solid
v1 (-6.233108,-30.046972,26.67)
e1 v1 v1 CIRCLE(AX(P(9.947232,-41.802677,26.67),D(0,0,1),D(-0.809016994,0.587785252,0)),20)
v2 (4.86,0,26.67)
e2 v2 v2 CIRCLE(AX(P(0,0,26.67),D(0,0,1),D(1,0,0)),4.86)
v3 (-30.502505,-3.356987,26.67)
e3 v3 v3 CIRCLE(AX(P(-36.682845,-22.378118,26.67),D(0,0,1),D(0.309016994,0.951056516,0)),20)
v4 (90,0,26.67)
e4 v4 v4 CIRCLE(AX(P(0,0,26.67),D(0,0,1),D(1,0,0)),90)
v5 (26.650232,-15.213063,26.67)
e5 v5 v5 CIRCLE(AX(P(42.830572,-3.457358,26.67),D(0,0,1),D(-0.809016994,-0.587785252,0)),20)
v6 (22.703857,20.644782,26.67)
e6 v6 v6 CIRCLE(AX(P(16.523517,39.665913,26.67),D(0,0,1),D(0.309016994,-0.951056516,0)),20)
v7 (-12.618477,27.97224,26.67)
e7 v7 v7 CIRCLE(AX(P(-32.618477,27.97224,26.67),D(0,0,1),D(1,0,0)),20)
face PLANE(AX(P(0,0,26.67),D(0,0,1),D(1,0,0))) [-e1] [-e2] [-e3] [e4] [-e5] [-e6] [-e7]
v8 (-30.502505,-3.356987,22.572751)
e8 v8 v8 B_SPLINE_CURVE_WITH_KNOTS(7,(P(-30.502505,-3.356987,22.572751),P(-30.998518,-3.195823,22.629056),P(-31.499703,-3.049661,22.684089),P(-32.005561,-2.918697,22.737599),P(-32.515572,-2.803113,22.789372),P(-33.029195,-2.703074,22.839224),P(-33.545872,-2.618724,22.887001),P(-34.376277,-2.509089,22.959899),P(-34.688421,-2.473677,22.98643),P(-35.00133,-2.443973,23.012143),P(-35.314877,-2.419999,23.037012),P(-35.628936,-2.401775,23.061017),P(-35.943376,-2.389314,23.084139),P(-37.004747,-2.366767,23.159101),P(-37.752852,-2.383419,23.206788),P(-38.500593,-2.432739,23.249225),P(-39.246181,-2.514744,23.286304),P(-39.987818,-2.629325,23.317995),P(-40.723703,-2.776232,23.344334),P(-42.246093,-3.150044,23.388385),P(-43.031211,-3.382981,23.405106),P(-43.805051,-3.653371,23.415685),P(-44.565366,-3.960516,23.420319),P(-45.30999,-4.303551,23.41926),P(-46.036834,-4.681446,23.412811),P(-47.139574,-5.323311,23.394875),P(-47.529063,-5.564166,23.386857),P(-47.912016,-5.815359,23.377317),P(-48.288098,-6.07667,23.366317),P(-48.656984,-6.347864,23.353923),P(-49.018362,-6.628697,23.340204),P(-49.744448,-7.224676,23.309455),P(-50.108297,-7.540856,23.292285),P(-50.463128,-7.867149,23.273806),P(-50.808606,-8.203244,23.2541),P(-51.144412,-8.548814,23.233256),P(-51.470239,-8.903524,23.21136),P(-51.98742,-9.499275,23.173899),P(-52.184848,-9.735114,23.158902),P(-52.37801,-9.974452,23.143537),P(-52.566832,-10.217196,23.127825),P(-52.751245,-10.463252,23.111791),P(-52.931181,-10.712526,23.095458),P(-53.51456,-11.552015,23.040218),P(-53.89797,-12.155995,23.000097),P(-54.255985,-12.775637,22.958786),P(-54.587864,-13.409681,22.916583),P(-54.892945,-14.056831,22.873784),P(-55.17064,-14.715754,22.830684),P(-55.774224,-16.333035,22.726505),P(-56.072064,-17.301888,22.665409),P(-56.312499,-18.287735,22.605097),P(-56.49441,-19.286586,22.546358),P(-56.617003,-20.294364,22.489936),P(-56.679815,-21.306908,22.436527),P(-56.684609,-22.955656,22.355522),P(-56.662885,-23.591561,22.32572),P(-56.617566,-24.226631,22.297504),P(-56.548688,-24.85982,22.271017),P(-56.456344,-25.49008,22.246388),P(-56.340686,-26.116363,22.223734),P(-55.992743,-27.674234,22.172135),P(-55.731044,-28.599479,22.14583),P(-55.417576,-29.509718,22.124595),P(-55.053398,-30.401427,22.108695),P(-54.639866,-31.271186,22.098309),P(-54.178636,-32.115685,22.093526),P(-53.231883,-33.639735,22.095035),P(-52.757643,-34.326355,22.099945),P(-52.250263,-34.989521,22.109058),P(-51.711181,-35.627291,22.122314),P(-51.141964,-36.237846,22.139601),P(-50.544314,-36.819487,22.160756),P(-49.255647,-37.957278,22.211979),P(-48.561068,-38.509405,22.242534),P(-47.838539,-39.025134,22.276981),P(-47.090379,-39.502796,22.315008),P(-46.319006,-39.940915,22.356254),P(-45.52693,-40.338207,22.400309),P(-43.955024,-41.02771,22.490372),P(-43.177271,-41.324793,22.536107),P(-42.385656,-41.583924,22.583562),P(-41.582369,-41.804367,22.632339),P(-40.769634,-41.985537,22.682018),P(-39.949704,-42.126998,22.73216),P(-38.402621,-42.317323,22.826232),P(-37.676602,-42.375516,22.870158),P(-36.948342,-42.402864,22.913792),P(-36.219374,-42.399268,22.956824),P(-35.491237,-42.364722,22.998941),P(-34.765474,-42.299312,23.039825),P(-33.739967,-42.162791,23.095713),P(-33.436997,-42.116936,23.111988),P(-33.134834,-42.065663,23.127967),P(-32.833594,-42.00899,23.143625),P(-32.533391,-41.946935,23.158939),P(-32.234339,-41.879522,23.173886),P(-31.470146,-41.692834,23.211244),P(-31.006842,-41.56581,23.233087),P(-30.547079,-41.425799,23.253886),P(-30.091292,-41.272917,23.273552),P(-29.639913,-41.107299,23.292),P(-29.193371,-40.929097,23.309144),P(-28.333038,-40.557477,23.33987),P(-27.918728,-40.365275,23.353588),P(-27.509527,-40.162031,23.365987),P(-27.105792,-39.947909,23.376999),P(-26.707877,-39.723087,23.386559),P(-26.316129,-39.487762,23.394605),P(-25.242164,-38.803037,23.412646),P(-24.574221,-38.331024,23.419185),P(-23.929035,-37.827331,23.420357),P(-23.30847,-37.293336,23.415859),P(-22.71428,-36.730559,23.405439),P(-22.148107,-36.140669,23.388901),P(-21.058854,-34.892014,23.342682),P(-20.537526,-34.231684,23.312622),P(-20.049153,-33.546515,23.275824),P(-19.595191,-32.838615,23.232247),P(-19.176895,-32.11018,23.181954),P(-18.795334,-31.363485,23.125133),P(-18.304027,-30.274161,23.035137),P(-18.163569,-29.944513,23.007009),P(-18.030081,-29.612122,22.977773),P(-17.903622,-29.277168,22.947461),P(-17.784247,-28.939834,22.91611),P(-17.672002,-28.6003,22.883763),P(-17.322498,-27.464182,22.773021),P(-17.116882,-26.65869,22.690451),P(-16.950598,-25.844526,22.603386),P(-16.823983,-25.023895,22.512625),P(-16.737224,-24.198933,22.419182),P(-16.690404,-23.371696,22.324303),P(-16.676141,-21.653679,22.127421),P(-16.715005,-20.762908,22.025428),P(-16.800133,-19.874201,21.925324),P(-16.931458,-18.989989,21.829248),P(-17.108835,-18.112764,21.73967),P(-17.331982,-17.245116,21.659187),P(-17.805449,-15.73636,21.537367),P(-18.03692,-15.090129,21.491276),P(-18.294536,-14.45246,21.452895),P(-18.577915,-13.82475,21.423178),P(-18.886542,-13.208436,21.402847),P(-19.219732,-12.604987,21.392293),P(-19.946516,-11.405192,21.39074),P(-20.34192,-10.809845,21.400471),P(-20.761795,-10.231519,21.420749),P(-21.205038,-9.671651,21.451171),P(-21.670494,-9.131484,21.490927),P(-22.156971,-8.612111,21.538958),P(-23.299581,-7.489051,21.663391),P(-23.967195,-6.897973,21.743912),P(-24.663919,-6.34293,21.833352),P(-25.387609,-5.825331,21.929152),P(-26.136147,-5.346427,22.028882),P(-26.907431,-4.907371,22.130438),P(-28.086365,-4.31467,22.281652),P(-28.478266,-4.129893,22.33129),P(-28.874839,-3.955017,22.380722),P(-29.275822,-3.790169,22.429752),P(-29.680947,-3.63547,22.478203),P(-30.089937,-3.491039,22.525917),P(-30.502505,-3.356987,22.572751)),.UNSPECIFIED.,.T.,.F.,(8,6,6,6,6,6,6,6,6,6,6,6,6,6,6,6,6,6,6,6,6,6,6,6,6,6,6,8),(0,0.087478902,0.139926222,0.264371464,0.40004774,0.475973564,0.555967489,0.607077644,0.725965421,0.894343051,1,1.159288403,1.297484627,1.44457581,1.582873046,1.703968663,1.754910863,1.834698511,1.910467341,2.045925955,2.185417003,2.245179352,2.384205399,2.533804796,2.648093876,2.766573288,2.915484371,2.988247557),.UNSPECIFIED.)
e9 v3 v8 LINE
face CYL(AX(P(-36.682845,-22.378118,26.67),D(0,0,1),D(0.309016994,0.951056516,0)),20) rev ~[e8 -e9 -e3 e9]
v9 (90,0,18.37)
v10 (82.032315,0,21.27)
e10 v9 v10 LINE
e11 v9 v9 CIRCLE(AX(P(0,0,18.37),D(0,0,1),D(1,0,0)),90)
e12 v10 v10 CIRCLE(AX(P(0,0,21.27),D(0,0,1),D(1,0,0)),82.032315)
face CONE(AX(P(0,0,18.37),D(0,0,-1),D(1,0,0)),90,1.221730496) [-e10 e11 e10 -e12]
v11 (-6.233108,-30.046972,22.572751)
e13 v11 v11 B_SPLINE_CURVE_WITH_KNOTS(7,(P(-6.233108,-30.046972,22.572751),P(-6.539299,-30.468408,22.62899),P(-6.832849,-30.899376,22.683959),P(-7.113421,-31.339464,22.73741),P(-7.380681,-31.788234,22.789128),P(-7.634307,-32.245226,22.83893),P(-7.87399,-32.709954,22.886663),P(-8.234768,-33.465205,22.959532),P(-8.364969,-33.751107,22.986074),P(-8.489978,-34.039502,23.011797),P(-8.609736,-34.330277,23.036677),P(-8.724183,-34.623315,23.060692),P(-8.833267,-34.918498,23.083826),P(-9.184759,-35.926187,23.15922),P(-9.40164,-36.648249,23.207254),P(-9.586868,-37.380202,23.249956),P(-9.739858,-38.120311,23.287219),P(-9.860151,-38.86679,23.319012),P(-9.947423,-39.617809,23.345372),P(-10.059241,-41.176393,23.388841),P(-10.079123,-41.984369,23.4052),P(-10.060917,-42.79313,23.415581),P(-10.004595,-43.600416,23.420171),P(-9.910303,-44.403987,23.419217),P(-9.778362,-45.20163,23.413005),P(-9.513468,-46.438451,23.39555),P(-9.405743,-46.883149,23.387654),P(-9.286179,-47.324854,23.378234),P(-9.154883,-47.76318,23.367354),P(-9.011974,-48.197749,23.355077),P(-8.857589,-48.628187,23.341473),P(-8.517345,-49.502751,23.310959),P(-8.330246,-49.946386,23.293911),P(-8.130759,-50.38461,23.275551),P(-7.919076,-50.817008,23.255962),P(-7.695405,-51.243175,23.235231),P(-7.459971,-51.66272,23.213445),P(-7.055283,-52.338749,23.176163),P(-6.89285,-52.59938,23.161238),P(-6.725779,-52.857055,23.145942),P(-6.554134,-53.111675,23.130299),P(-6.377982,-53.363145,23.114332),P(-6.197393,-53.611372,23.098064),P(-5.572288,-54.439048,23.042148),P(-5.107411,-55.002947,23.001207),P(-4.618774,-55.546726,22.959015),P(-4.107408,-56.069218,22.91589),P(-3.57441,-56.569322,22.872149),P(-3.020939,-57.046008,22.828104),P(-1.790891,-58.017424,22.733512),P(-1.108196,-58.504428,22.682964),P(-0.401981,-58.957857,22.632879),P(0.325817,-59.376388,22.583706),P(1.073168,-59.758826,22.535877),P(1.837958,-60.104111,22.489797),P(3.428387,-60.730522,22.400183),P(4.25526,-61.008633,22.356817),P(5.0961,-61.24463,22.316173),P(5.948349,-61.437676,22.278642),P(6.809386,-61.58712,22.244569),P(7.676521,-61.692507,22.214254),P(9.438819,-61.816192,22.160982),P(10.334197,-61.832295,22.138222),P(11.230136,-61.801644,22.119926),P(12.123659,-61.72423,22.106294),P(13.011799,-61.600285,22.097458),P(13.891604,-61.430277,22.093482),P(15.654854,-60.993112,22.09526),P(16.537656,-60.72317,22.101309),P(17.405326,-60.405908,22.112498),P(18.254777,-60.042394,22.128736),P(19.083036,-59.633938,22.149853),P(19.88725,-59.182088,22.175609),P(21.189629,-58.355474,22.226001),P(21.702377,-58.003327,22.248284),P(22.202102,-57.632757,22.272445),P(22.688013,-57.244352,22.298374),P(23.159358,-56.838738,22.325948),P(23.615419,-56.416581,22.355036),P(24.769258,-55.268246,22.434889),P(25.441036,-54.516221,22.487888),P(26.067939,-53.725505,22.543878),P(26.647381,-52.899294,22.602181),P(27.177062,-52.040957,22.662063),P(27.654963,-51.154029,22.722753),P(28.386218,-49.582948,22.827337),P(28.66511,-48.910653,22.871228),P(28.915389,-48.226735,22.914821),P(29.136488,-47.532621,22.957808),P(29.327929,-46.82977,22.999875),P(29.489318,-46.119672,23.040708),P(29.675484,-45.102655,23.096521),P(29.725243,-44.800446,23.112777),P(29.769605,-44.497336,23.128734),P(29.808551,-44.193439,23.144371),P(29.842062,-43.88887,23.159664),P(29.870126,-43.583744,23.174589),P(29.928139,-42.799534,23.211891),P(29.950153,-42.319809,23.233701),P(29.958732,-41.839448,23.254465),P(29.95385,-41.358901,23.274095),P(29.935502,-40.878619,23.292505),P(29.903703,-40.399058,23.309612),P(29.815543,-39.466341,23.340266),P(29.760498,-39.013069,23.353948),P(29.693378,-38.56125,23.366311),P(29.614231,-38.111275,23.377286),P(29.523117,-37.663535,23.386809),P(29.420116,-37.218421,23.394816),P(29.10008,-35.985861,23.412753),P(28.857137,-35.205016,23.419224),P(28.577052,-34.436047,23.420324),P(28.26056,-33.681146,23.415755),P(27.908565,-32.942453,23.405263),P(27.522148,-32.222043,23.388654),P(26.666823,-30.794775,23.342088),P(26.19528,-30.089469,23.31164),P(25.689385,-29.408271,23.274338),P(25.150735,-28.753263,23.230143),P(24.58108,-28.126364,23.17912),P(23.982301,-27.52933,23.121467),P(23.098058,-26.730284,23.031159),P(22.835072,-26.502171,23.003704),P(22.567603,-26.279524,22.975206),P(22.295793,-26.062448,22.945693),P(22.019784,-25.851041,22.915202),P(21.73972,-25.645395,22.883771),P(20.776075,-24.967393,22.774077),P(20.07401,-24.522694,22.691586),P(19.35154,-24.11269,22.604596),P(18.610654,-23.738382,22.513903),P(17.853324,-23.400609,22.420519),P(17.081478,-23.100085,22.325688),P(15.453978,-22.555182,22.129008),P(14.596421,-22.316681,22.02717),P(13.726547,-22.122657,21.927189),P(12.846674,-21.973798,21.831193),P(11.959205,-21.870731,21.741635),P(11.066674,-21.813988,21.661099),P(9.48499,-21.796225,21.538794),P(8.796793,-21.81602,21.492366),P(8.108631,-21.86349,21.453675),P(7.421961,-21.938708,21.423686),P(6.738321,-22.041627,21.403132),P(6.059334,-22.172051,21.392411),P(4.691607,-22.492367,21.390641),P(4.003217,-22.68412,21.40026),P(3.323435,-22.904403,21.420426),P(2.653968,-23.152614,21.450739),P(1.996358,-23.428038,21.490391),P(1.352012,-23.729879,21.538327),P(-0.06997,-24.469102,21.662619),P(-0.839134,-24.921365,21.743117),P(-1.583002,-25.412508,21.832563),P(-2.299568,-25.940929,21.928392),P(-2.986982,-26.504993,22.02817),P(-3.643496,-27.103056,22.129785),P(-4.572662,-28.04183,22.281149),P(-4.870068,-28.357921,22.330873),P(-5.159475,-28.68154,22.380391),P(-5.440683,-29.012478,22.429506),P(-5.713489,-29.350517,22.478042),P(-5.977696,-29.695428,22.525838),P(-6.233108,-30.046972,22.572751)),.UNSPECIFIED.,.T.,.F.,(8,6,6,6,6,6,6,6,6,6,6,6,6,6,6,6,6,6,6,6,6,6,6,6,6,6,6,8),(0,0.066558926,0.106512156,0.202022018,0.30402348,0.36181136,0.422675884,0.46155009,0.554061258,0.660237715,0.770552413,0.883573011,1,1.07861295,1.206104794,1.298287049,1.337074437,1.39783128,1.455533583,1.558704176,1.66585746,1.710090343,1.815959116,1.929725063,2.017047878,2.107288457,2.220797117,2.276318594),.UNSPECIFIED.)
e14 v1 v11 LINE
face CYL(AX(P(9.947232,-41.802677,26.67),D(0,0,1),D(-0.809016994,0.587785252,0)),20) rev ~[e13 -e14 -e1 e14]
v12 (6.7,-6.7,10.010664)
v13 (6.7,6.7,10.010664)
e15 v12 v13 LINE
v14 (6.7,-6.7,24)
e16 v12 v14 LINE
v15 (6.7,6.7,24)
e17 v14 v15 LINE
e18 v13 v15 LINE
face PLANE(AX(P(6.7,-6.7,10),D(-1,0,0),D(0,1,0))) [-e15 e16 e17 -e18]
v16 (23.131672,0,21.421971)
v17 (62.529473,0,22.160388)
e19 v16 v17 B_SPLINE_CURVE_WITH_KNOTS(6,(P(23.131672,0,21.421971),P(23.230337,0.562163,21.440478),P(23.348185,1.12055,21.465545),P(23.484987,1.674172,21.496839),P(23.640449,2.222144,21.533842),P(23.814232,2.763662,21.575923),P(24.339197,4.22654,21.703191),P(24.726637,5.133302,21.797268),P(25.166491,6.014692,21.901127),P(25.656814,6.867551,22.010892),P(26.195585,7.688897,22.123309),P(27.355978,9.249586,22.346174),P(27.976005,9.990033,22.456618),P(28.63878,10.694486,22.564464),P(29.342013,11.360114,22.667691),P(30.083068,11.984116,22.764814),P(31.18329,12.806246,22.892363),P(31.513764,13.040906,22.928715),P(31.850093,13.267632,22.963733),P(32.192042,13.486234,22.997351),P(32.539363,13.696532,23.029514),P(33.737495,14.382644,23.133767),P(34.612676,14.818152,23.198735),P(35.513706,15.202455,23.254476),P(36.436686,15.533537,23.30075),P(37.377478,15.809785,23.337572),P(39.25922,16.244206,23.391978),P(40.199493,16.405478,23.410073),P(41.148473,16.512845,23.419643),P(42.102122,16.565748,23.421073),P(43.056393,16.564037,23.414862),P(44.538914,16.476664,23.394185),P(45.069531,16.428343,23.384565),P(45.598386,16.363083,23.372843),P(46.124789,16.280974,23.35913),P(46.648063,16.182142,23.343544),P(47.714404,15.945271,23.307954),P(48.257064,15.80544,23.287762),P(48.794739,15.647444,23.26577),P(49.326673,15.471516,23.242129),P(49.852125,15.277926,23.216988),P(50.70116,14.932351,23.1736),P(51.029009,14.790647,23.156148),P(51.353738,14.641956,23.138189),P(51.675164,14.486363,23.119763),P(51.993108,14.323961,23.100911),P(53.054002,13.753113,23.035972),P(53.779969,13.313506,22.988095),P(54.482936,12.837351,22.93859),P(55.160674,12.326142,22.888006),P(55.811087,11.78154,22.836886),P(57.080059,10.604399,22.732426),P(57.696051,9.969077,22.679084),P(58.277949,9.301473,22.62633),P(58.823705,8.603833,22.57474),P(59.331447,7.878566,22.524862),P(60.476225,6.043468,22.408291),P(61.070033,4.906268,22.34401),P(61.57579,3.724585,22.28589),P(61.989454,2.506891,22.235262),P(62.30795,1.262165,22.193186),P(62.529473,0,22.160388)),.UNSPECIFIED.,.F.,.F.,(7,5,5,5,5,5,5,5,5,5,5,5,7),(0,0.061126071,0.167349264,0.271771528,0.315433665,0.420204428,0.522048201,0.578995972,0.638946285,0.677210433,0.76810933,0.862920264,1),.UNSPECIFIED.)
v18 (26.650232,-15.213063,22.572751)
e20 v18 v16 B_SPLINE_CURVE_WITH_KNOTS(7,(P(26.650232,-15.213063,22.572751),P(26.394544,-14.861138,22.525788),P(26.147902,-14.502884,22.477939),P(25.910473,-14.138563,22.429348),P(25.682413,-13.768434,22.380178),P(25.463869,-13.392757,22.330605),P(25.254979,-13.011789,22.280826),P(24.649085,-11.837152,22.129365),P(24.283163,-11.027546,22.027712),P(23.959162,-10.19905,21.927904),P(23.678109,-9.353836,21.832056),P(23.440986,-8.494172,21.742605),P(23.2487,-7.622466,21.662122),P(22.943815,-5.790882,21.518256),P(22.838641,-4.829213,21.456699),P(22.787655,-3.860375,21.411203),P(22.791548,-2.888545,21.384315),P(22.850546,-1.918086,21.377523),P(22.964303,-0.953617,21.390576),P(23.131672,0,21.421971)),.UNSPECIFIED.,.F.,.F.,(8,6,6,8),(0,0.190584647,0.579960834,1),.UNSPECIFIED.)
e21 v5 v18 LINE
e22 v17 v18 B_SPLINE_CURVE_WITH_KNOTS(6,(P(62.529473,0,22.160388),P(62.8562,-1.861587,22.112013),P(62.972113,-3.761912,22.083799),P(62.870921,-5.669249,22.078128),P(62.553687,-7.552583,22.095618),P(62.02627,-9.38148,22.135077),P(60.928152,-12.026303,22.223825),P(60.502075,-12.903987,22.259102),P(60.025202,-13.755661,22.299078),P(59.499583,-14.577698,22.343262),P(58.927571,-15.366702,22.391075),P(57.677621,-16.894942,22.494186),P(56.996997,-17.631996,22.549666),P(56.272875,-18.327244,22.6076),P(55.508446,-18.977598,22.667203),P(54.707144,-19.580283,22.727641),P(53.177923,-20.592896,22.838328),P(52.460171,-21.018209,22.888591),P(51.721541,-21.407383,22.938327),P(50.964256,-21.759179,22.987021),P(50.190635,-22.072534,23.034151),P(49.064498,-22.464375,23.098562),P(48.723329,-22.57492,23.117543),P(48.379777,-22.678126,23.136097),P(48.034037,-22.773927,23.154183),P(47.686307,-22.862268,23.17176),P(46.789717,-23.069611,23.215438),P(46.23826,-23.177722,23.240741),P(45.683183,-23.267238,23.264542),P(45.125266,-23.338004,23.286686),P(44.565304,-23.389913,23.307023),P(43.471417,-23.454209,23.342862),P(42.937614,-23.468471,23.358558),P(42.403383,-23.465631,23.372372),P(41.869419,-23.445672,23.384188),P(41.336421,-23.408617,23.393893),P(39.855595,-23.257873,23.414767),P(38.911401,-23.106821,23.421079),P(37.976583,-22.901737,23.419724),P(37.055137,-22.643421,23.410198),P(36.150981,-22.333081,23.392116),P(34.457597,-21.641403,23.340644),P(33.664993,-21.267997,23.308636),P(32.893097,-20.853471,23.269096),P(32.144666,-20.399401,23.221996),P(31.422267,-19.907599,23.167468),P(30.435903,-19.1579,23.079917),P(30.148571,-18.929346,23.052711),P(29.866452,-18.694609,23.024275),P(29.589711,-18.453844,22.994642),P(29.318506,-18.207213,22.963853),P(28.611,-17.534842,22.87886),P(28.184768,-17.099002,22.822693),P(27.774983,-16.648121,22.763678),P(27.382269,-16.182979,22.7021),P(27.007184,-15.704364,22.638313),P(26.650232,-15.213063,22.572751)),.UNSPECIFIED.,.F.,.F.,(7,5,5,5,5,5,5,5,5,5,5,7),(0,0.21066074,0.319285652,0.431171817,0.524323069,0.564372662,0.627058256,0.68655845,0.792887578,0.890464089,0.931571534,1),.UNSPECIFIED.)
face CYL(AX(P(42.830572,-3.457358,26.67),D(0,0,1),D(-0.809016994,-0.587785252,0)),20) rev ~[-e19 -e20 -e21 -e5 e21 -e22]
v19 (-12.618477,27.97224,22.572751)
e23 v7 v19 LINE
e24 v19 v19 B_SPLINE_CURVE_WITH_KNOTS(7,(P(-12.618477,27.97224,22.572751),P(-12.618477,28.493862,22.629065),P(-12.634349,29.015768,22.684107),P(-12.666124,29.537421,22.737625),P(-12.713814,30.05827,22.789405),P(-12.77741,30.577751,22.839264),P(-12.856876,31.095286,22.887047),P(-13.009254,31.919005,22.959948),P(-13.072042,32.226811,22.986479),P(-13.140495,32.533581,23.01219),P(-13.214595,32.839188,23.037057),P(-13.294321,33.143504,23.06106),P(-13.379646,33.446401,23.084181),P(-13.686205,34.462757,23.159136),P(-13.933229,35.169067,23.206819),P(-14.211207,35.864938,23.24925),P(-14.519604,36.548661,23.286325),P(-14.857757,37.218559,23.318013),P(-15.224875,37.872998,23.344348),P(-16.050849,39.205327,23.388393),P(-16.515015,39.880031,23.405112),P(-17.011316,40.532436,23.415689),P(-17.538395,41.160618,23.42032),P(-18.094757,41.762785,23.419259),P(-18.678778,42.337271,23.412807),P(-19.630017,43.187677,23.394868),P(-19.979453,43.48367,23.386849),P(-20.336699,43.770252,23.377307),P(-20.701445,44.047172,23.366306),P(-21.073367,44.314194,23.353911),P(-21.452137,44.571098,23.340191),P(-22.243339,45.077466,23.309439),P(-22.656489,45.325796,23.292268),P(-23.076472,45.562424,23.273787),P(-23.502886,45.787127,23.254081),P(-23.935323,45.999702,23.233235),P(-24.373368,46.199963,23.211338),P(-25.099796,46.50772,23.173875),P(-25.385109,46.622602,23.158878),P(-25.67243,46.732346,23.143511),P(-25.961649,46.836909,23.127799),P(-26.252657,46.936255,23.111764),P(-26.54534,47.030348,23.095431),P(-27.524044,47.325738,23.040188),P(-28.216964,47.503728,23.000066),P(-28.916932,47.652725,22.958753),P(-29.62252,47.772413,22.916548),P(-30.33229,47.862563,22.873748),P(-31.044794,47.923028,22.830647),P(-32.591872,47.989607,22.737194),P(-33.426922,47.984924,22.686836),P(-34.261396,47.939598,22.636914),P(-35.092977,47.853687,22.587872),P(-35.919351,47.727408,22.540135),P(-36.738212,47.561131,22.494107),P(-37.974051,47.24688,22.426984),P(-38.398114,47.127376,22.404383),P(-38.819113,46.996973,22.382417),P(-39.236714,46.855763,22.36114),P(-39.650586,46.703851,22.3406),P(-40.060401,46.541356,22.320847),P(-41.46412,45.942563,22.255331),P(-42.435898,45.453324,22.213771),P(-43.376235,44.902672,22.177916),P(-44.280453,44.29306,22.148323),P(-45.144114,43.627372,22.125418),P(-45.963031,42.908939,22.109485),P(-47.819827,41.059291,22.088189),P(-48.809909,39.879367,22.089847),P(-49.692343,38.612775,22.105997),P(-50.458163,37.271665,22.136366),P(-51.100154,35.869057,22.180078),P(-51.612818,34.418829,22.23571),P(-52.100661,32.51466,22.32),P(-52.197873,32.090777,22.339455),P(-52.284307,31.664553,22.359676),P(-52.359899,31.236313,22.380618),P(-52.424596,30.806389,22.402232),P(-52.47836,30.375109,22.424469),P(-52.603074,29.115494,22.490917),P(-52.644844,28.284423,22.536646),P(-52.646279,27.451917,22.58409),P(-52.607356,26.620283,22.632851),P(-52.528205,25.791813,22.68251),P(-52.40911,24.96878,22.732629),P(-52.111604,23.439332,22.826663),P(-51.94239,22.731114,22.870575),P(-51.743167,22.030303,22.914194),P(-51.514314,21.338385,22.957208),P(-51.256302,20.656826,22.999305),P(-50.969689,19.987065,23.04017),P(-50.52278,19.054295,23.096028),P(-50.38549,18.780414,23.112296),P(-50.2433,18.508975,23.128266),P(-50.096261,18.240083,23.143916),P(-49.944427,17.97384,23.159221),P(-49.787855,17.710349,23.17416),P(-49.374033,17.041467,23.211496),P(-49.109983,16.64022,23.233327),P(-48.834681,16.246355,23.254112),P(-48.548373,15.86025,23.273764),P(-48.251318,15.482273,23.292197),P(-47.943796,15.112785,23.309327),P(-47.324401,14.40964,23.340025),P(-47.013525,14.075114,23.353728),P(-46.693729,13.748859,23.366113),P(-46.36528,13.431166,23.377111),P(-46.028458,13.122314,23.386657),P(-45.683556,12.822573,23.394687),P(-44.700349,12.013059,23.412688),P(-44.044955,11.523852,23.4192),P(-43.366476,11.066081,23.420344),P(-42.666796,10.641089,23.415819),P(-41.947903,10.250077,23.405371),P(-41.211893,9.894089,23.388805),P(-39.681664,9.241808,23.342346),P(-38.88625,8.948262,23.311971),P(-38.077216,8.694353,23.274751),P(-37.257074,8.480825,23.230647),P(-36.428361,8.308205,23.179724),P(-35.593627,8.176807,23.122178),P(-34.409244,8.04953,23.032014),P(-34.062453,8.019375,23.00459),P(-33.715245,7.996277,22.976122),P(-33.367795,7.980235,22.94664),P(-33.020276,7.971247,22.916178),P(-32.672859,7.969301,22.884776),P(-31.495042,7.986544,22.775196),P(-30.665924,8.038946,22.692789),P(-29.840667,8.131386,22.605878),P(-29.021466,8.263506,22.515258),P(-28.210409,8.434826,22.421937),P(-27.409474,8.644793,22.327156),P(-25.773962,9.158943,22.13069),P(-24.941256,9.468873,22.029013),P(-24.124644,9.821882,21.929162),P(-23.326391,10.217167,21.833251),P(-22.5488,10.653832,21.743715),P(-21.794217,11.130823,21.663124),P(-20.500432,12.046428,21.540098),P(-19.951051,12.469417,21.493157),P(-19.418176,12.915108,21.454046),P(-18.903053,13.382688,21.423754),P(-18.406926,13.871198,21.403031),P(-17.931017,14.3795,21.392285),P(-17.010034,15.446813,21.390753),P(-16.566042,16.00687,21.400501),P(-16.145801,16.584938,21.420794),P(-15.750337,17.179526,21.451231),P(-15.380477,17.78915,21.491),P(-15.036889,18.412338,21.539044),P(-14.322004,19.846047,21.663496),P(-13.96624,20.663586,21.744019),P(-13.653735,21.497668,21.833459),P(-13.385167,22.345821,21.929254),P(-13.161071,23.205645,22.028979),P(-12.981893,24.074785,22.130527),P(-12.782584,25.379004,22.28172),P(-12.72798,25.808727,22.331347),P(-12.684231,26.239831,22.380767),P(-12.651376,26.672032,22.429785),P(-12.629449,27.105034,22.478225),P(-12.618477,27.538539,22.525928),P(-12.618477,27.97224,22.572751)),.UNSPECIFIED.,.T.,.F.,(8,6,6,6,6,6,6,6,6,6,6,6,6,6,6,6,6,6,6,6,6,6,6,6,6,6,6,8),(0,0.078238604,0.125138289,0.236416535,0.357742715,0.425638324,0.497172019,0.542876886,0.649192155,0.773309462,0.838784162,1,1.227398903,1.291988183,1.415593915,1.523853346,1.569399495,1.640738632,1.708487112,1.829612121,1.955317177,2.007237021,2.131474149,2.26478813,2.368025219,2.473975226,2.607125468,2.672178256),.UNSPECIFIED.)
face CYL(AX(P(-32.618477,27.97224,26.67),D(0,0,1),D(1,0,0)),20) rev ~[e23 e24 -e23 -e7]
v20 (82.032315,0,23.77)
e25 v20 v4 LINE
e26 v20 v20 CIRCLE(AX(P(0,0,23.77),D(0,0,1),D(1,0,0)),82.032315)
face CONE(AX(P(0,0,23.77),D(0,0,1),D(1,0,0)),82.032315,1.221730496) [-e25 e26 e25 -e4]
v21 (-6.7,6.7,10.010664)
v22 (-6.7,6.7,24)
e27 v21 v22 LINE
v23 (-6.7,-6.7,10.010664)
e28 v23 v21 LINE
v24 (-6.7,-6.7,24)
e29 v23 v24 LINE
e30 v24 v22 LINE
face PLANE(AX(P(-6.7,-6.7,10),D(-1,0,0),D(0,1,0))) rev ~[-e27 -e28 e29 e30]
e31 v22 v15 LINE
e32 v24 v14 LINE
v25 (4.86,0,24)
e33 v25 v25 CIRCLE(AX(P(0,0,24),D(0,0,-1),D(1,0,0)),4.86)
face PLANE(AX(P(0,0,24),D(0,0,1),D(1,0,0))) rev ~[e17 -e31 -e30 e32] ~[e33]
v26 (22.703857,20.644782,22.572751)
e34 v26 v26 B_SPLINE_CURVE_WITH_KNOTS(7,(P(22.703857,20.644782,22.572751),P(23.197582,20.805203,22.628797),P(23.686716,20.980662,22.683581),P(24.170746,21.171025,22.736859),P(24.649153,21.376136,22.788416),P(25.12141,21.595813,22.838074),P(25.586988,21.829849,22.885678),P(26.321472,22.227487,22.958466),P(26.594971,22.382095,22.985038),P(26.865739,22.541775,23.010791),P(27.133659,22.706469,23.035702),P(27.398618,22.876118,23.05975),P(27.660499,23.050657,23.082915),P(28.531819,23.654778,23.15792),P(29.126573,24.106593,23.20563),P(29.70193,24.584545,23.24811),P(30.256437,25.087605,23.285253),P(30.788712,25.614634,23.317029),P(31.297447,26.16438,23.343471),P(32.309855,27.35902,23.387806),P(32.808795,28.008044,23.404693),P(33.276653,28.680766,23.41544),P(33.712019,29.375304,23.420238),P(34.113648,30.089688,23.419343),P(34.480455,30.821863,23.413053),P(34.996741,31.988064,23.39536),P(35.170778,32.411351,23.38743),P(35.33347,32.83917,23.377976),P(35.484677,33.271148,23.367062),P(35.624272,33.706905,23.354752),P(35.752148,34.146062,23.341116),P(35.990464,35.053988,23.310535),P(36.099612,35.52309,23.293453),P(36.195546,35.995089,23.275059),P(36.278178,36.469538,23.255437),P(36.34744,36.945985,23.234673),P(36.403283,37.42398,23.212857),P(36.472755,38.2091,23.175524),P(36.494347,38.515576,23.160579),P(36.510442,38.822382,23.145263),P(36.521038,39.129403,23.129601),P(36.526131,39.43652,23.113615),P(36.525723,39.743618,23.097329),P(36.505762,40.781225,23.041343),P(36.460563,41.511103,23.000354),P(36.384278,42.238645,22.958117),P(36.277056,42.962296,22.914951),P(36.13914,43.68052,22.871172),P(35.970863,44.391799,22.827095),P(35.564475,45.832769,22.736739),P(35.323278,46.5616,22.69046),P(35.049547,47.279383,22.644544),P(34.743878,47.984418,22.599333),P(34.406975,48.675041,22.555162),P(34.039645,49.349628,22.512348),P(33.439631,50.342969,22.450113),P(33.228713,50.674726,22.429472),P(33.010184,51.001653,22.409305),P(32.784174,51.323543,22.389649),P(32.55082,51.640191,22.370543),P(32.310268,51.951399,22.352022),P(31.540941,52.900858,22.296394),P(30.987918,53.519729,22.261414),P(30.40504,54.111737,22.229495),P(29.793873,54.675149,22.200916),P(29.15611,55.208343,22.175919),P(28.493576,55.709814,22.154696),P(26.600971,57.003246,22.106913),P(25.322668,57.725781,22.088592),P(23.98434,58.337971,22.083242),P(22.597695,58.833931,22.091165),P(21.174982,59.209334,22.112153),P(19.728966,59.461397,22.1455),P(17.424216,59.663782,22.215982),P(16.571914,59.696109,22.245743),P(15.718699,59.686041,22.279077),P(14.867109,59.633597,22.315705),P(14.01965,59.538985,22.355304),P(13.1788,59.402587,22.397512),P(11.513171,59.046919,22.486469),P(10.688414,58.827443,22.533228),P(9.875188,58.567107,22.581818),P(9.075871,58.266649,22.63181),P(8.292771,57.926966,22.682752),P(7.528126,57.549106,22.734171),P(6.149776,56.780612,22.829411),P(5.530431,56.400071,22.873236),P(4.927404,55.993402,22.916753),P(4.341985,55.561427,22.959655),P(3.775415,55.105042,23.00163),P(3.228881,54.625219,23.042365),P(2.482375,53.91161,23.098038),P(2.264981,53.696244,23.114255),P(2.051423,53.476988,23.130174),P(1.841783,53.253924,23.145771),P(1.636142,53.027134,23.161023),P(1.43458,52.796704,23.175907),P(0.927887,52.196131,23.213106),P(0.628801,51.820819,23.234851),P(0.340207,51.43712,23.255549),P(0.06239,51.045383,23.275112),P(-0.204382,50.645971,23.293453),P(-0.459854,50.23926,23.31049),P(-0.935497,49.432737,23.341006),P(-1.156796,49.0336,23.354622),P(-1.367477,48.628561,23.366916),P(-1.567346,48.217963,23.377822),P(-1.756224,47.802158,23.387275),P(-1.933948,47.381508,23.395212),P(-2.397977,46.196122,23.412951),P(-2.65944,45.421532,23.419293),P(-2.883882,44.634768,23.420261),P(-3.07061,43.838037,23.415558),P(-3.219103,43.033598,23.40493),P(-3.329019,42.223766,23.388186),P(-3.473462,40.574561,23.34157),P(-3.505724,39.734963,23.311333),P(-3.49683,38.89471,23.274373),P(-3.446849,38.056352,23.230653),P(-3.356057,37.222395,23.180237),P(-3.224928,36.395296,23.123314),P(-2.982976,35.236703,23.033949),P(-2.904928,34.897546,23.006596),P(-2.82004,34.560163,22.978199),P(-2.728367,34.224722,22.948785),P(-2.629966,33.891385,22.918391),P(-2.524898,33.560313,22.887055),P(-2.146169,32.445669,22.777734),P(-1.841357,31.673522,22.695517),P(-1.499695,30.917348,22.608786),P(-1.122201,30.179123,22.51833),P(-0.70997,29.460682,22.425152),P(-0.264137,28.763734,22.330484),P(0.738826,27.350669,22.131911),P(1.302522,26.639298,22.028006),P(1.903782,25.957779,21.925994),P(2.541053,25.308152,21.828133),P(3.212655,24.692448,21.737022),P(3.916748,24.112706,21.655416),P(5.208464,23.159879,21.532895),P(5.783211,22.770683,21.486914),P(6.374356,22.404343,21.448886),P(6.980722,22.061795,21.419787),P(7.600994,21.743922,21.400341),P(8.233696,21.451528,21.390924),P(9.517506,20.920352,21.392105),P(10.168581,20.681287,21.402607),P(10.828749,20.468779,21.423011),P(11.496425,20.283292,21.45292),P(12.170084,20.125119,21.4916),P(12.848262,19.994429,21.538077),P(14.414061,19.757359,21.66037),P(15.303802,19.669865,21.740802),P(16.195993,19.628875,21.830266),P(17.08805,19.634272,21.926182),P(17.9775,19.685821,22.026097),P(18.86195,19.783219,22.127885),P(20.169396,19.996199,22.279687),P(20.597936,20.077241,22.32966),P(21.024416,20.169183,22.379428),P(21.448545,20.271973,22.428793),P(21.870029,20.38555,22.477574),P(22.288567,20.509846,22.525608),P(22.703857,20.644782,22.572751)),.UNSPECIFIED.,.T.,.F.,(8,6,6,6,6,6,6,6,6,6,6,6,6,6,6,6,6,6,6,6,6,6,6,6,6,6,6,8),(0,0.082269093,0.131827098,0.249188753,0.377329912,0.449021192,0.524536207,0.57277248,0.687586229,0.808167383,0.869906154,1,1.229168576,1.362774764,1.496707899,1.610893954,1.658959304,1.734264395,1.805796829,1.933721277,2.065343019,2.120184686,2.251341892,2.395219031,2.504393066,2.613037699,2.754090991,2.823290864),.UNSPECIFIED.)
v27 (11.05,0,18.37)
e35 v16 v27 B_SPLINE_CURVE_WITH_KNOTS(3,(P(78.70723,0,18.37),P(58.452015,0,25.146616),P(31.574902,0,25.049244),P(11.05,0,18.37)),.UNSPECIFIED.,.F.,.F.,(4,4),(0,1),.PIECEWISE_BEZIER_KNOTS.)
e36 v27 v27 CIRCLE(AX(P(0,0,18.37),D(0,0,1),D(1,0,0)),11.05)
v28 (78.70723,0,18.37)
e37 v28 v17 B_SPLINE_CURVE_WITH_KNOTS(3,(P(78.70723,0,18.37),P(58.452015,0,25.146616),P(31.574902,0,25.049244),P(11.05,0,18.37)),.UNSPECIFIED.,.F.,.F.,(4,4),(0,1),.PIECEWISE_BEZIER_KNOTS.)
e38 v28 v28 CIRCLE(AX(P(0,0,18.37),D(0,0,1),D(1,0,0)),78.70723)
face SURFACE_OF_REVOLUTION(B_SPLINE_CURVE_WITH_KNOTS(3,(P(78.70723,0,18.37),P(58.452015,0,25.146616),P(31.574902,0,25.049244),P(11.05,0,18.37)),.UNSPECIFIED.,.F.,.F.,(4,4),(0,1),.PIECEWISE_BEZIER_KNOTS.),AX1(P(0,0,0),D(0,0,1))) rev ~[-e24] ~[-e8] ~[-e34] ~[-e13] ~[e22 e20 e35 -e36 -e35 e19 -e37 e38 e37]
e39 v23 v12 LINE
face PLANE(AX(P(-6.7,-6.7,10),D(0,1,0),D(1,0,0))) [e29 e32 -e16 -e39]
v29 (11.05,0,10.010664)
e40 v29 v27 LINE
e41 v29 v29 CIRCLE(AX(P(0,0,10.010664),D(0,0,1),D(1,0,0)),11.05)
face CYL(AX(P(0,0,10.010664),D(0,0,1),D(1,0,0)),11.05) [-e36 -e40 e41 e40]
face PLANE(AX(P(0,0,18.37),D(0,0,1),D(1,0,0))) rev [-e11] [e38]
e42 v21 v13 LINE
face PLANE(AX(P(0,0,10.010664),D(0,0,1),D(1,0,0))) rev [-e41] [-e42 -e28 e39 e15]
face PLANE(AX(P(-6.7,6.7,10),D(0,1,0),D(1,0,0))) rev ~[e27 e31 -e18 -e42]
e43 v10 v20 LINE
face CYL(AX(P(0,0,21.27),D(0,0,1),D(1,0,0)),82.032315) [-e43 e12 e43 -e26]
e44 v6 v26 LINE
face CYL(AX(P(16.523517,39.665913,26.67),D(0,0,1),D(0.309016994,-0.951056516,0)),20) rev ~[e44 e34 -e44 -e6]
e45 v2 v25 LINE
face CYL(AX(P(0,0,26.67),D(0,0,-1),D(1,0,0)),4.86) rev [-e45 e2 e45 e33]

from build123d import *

# Parameters (mm, degrees)
BOX_W              = 13.4
BOX_H              = 13.4
BOX_DEPTH          = 14
SKETCH001_R        = 20
POCKET_DEPTH       = 6
POLARPATTERN_COUNT = 5


with BuildPart() as cube:
    # Box → Box (new body)
    with BuildSketch(Plane(origin=(-6.7, -6.7, 10), x_dir=(1, 0, 0), z_dir=(0, 0, 1))):
        with Locations((6.7, 6.7)):
            Rectangle(BOX_W, BOX_H)
    extrude(amount=BOX_DEPTH)


with BuildPart() as body:
    # Sketch → Revolve (revolve)
    with BuildSketch(Plane.XZ):
        with BuildLine():
            Line((78.70723, 18.37), (90, 18.37))
            Line((90, 18.37), (82.032315, 21.27))
            Line((82.032315, 21.27), (82.032315, 23.77))
            Line((82.032315, 23.77), (90, 26.67))
            Line((90, 26.67), (4.86, 26.67))
            Line((4.86, 26.67), (4.86, 10.010664))
            Line((4.86, 10.010664), (11.05, 10.010664))
            Line((11.05, 10.010664), (11.05, 18.37))
            add(Edge.make_bspline(
                [(78.70723, 18.37), (58.452015, 25.146616), (31.574902, 25.049244), (11.05, 18.37)],
                knots=[0, 0, 0, 0, 1, 1, 1, 1], degree=3))
        make_face()
    revolve(axis=Axis((0, 0, 0), (0, 0, 1)))

    # Cut: cut Cube
    add(cube.part, mode=Mode.SUBTRACT)

    # Sketch001 (on Face12 of BaseFeature) → Pocket (cut)
    with BuildSketch(Plane.XY.offset(26.67)):
        with Locations((-32.618477, 27.97224)):
            Circle(SKETCH001_R)
    pocket = extrude(amount=-POCKET_DEPTH, mode=Mode.SUBTRACT)

    # PolarPattern: Pocket ×5 about axis
    polarpattern_axis = Axis((0, 0, 26.67), (0, 0, 1))
    for i in range(1, POLARPATTERN_COUNT):
        add(pocket.rotate(polarpattern_axis, i * 360 / POLARPATTERN_COUNT), mode=Mode.SUBTRACT)


solid = body.part
